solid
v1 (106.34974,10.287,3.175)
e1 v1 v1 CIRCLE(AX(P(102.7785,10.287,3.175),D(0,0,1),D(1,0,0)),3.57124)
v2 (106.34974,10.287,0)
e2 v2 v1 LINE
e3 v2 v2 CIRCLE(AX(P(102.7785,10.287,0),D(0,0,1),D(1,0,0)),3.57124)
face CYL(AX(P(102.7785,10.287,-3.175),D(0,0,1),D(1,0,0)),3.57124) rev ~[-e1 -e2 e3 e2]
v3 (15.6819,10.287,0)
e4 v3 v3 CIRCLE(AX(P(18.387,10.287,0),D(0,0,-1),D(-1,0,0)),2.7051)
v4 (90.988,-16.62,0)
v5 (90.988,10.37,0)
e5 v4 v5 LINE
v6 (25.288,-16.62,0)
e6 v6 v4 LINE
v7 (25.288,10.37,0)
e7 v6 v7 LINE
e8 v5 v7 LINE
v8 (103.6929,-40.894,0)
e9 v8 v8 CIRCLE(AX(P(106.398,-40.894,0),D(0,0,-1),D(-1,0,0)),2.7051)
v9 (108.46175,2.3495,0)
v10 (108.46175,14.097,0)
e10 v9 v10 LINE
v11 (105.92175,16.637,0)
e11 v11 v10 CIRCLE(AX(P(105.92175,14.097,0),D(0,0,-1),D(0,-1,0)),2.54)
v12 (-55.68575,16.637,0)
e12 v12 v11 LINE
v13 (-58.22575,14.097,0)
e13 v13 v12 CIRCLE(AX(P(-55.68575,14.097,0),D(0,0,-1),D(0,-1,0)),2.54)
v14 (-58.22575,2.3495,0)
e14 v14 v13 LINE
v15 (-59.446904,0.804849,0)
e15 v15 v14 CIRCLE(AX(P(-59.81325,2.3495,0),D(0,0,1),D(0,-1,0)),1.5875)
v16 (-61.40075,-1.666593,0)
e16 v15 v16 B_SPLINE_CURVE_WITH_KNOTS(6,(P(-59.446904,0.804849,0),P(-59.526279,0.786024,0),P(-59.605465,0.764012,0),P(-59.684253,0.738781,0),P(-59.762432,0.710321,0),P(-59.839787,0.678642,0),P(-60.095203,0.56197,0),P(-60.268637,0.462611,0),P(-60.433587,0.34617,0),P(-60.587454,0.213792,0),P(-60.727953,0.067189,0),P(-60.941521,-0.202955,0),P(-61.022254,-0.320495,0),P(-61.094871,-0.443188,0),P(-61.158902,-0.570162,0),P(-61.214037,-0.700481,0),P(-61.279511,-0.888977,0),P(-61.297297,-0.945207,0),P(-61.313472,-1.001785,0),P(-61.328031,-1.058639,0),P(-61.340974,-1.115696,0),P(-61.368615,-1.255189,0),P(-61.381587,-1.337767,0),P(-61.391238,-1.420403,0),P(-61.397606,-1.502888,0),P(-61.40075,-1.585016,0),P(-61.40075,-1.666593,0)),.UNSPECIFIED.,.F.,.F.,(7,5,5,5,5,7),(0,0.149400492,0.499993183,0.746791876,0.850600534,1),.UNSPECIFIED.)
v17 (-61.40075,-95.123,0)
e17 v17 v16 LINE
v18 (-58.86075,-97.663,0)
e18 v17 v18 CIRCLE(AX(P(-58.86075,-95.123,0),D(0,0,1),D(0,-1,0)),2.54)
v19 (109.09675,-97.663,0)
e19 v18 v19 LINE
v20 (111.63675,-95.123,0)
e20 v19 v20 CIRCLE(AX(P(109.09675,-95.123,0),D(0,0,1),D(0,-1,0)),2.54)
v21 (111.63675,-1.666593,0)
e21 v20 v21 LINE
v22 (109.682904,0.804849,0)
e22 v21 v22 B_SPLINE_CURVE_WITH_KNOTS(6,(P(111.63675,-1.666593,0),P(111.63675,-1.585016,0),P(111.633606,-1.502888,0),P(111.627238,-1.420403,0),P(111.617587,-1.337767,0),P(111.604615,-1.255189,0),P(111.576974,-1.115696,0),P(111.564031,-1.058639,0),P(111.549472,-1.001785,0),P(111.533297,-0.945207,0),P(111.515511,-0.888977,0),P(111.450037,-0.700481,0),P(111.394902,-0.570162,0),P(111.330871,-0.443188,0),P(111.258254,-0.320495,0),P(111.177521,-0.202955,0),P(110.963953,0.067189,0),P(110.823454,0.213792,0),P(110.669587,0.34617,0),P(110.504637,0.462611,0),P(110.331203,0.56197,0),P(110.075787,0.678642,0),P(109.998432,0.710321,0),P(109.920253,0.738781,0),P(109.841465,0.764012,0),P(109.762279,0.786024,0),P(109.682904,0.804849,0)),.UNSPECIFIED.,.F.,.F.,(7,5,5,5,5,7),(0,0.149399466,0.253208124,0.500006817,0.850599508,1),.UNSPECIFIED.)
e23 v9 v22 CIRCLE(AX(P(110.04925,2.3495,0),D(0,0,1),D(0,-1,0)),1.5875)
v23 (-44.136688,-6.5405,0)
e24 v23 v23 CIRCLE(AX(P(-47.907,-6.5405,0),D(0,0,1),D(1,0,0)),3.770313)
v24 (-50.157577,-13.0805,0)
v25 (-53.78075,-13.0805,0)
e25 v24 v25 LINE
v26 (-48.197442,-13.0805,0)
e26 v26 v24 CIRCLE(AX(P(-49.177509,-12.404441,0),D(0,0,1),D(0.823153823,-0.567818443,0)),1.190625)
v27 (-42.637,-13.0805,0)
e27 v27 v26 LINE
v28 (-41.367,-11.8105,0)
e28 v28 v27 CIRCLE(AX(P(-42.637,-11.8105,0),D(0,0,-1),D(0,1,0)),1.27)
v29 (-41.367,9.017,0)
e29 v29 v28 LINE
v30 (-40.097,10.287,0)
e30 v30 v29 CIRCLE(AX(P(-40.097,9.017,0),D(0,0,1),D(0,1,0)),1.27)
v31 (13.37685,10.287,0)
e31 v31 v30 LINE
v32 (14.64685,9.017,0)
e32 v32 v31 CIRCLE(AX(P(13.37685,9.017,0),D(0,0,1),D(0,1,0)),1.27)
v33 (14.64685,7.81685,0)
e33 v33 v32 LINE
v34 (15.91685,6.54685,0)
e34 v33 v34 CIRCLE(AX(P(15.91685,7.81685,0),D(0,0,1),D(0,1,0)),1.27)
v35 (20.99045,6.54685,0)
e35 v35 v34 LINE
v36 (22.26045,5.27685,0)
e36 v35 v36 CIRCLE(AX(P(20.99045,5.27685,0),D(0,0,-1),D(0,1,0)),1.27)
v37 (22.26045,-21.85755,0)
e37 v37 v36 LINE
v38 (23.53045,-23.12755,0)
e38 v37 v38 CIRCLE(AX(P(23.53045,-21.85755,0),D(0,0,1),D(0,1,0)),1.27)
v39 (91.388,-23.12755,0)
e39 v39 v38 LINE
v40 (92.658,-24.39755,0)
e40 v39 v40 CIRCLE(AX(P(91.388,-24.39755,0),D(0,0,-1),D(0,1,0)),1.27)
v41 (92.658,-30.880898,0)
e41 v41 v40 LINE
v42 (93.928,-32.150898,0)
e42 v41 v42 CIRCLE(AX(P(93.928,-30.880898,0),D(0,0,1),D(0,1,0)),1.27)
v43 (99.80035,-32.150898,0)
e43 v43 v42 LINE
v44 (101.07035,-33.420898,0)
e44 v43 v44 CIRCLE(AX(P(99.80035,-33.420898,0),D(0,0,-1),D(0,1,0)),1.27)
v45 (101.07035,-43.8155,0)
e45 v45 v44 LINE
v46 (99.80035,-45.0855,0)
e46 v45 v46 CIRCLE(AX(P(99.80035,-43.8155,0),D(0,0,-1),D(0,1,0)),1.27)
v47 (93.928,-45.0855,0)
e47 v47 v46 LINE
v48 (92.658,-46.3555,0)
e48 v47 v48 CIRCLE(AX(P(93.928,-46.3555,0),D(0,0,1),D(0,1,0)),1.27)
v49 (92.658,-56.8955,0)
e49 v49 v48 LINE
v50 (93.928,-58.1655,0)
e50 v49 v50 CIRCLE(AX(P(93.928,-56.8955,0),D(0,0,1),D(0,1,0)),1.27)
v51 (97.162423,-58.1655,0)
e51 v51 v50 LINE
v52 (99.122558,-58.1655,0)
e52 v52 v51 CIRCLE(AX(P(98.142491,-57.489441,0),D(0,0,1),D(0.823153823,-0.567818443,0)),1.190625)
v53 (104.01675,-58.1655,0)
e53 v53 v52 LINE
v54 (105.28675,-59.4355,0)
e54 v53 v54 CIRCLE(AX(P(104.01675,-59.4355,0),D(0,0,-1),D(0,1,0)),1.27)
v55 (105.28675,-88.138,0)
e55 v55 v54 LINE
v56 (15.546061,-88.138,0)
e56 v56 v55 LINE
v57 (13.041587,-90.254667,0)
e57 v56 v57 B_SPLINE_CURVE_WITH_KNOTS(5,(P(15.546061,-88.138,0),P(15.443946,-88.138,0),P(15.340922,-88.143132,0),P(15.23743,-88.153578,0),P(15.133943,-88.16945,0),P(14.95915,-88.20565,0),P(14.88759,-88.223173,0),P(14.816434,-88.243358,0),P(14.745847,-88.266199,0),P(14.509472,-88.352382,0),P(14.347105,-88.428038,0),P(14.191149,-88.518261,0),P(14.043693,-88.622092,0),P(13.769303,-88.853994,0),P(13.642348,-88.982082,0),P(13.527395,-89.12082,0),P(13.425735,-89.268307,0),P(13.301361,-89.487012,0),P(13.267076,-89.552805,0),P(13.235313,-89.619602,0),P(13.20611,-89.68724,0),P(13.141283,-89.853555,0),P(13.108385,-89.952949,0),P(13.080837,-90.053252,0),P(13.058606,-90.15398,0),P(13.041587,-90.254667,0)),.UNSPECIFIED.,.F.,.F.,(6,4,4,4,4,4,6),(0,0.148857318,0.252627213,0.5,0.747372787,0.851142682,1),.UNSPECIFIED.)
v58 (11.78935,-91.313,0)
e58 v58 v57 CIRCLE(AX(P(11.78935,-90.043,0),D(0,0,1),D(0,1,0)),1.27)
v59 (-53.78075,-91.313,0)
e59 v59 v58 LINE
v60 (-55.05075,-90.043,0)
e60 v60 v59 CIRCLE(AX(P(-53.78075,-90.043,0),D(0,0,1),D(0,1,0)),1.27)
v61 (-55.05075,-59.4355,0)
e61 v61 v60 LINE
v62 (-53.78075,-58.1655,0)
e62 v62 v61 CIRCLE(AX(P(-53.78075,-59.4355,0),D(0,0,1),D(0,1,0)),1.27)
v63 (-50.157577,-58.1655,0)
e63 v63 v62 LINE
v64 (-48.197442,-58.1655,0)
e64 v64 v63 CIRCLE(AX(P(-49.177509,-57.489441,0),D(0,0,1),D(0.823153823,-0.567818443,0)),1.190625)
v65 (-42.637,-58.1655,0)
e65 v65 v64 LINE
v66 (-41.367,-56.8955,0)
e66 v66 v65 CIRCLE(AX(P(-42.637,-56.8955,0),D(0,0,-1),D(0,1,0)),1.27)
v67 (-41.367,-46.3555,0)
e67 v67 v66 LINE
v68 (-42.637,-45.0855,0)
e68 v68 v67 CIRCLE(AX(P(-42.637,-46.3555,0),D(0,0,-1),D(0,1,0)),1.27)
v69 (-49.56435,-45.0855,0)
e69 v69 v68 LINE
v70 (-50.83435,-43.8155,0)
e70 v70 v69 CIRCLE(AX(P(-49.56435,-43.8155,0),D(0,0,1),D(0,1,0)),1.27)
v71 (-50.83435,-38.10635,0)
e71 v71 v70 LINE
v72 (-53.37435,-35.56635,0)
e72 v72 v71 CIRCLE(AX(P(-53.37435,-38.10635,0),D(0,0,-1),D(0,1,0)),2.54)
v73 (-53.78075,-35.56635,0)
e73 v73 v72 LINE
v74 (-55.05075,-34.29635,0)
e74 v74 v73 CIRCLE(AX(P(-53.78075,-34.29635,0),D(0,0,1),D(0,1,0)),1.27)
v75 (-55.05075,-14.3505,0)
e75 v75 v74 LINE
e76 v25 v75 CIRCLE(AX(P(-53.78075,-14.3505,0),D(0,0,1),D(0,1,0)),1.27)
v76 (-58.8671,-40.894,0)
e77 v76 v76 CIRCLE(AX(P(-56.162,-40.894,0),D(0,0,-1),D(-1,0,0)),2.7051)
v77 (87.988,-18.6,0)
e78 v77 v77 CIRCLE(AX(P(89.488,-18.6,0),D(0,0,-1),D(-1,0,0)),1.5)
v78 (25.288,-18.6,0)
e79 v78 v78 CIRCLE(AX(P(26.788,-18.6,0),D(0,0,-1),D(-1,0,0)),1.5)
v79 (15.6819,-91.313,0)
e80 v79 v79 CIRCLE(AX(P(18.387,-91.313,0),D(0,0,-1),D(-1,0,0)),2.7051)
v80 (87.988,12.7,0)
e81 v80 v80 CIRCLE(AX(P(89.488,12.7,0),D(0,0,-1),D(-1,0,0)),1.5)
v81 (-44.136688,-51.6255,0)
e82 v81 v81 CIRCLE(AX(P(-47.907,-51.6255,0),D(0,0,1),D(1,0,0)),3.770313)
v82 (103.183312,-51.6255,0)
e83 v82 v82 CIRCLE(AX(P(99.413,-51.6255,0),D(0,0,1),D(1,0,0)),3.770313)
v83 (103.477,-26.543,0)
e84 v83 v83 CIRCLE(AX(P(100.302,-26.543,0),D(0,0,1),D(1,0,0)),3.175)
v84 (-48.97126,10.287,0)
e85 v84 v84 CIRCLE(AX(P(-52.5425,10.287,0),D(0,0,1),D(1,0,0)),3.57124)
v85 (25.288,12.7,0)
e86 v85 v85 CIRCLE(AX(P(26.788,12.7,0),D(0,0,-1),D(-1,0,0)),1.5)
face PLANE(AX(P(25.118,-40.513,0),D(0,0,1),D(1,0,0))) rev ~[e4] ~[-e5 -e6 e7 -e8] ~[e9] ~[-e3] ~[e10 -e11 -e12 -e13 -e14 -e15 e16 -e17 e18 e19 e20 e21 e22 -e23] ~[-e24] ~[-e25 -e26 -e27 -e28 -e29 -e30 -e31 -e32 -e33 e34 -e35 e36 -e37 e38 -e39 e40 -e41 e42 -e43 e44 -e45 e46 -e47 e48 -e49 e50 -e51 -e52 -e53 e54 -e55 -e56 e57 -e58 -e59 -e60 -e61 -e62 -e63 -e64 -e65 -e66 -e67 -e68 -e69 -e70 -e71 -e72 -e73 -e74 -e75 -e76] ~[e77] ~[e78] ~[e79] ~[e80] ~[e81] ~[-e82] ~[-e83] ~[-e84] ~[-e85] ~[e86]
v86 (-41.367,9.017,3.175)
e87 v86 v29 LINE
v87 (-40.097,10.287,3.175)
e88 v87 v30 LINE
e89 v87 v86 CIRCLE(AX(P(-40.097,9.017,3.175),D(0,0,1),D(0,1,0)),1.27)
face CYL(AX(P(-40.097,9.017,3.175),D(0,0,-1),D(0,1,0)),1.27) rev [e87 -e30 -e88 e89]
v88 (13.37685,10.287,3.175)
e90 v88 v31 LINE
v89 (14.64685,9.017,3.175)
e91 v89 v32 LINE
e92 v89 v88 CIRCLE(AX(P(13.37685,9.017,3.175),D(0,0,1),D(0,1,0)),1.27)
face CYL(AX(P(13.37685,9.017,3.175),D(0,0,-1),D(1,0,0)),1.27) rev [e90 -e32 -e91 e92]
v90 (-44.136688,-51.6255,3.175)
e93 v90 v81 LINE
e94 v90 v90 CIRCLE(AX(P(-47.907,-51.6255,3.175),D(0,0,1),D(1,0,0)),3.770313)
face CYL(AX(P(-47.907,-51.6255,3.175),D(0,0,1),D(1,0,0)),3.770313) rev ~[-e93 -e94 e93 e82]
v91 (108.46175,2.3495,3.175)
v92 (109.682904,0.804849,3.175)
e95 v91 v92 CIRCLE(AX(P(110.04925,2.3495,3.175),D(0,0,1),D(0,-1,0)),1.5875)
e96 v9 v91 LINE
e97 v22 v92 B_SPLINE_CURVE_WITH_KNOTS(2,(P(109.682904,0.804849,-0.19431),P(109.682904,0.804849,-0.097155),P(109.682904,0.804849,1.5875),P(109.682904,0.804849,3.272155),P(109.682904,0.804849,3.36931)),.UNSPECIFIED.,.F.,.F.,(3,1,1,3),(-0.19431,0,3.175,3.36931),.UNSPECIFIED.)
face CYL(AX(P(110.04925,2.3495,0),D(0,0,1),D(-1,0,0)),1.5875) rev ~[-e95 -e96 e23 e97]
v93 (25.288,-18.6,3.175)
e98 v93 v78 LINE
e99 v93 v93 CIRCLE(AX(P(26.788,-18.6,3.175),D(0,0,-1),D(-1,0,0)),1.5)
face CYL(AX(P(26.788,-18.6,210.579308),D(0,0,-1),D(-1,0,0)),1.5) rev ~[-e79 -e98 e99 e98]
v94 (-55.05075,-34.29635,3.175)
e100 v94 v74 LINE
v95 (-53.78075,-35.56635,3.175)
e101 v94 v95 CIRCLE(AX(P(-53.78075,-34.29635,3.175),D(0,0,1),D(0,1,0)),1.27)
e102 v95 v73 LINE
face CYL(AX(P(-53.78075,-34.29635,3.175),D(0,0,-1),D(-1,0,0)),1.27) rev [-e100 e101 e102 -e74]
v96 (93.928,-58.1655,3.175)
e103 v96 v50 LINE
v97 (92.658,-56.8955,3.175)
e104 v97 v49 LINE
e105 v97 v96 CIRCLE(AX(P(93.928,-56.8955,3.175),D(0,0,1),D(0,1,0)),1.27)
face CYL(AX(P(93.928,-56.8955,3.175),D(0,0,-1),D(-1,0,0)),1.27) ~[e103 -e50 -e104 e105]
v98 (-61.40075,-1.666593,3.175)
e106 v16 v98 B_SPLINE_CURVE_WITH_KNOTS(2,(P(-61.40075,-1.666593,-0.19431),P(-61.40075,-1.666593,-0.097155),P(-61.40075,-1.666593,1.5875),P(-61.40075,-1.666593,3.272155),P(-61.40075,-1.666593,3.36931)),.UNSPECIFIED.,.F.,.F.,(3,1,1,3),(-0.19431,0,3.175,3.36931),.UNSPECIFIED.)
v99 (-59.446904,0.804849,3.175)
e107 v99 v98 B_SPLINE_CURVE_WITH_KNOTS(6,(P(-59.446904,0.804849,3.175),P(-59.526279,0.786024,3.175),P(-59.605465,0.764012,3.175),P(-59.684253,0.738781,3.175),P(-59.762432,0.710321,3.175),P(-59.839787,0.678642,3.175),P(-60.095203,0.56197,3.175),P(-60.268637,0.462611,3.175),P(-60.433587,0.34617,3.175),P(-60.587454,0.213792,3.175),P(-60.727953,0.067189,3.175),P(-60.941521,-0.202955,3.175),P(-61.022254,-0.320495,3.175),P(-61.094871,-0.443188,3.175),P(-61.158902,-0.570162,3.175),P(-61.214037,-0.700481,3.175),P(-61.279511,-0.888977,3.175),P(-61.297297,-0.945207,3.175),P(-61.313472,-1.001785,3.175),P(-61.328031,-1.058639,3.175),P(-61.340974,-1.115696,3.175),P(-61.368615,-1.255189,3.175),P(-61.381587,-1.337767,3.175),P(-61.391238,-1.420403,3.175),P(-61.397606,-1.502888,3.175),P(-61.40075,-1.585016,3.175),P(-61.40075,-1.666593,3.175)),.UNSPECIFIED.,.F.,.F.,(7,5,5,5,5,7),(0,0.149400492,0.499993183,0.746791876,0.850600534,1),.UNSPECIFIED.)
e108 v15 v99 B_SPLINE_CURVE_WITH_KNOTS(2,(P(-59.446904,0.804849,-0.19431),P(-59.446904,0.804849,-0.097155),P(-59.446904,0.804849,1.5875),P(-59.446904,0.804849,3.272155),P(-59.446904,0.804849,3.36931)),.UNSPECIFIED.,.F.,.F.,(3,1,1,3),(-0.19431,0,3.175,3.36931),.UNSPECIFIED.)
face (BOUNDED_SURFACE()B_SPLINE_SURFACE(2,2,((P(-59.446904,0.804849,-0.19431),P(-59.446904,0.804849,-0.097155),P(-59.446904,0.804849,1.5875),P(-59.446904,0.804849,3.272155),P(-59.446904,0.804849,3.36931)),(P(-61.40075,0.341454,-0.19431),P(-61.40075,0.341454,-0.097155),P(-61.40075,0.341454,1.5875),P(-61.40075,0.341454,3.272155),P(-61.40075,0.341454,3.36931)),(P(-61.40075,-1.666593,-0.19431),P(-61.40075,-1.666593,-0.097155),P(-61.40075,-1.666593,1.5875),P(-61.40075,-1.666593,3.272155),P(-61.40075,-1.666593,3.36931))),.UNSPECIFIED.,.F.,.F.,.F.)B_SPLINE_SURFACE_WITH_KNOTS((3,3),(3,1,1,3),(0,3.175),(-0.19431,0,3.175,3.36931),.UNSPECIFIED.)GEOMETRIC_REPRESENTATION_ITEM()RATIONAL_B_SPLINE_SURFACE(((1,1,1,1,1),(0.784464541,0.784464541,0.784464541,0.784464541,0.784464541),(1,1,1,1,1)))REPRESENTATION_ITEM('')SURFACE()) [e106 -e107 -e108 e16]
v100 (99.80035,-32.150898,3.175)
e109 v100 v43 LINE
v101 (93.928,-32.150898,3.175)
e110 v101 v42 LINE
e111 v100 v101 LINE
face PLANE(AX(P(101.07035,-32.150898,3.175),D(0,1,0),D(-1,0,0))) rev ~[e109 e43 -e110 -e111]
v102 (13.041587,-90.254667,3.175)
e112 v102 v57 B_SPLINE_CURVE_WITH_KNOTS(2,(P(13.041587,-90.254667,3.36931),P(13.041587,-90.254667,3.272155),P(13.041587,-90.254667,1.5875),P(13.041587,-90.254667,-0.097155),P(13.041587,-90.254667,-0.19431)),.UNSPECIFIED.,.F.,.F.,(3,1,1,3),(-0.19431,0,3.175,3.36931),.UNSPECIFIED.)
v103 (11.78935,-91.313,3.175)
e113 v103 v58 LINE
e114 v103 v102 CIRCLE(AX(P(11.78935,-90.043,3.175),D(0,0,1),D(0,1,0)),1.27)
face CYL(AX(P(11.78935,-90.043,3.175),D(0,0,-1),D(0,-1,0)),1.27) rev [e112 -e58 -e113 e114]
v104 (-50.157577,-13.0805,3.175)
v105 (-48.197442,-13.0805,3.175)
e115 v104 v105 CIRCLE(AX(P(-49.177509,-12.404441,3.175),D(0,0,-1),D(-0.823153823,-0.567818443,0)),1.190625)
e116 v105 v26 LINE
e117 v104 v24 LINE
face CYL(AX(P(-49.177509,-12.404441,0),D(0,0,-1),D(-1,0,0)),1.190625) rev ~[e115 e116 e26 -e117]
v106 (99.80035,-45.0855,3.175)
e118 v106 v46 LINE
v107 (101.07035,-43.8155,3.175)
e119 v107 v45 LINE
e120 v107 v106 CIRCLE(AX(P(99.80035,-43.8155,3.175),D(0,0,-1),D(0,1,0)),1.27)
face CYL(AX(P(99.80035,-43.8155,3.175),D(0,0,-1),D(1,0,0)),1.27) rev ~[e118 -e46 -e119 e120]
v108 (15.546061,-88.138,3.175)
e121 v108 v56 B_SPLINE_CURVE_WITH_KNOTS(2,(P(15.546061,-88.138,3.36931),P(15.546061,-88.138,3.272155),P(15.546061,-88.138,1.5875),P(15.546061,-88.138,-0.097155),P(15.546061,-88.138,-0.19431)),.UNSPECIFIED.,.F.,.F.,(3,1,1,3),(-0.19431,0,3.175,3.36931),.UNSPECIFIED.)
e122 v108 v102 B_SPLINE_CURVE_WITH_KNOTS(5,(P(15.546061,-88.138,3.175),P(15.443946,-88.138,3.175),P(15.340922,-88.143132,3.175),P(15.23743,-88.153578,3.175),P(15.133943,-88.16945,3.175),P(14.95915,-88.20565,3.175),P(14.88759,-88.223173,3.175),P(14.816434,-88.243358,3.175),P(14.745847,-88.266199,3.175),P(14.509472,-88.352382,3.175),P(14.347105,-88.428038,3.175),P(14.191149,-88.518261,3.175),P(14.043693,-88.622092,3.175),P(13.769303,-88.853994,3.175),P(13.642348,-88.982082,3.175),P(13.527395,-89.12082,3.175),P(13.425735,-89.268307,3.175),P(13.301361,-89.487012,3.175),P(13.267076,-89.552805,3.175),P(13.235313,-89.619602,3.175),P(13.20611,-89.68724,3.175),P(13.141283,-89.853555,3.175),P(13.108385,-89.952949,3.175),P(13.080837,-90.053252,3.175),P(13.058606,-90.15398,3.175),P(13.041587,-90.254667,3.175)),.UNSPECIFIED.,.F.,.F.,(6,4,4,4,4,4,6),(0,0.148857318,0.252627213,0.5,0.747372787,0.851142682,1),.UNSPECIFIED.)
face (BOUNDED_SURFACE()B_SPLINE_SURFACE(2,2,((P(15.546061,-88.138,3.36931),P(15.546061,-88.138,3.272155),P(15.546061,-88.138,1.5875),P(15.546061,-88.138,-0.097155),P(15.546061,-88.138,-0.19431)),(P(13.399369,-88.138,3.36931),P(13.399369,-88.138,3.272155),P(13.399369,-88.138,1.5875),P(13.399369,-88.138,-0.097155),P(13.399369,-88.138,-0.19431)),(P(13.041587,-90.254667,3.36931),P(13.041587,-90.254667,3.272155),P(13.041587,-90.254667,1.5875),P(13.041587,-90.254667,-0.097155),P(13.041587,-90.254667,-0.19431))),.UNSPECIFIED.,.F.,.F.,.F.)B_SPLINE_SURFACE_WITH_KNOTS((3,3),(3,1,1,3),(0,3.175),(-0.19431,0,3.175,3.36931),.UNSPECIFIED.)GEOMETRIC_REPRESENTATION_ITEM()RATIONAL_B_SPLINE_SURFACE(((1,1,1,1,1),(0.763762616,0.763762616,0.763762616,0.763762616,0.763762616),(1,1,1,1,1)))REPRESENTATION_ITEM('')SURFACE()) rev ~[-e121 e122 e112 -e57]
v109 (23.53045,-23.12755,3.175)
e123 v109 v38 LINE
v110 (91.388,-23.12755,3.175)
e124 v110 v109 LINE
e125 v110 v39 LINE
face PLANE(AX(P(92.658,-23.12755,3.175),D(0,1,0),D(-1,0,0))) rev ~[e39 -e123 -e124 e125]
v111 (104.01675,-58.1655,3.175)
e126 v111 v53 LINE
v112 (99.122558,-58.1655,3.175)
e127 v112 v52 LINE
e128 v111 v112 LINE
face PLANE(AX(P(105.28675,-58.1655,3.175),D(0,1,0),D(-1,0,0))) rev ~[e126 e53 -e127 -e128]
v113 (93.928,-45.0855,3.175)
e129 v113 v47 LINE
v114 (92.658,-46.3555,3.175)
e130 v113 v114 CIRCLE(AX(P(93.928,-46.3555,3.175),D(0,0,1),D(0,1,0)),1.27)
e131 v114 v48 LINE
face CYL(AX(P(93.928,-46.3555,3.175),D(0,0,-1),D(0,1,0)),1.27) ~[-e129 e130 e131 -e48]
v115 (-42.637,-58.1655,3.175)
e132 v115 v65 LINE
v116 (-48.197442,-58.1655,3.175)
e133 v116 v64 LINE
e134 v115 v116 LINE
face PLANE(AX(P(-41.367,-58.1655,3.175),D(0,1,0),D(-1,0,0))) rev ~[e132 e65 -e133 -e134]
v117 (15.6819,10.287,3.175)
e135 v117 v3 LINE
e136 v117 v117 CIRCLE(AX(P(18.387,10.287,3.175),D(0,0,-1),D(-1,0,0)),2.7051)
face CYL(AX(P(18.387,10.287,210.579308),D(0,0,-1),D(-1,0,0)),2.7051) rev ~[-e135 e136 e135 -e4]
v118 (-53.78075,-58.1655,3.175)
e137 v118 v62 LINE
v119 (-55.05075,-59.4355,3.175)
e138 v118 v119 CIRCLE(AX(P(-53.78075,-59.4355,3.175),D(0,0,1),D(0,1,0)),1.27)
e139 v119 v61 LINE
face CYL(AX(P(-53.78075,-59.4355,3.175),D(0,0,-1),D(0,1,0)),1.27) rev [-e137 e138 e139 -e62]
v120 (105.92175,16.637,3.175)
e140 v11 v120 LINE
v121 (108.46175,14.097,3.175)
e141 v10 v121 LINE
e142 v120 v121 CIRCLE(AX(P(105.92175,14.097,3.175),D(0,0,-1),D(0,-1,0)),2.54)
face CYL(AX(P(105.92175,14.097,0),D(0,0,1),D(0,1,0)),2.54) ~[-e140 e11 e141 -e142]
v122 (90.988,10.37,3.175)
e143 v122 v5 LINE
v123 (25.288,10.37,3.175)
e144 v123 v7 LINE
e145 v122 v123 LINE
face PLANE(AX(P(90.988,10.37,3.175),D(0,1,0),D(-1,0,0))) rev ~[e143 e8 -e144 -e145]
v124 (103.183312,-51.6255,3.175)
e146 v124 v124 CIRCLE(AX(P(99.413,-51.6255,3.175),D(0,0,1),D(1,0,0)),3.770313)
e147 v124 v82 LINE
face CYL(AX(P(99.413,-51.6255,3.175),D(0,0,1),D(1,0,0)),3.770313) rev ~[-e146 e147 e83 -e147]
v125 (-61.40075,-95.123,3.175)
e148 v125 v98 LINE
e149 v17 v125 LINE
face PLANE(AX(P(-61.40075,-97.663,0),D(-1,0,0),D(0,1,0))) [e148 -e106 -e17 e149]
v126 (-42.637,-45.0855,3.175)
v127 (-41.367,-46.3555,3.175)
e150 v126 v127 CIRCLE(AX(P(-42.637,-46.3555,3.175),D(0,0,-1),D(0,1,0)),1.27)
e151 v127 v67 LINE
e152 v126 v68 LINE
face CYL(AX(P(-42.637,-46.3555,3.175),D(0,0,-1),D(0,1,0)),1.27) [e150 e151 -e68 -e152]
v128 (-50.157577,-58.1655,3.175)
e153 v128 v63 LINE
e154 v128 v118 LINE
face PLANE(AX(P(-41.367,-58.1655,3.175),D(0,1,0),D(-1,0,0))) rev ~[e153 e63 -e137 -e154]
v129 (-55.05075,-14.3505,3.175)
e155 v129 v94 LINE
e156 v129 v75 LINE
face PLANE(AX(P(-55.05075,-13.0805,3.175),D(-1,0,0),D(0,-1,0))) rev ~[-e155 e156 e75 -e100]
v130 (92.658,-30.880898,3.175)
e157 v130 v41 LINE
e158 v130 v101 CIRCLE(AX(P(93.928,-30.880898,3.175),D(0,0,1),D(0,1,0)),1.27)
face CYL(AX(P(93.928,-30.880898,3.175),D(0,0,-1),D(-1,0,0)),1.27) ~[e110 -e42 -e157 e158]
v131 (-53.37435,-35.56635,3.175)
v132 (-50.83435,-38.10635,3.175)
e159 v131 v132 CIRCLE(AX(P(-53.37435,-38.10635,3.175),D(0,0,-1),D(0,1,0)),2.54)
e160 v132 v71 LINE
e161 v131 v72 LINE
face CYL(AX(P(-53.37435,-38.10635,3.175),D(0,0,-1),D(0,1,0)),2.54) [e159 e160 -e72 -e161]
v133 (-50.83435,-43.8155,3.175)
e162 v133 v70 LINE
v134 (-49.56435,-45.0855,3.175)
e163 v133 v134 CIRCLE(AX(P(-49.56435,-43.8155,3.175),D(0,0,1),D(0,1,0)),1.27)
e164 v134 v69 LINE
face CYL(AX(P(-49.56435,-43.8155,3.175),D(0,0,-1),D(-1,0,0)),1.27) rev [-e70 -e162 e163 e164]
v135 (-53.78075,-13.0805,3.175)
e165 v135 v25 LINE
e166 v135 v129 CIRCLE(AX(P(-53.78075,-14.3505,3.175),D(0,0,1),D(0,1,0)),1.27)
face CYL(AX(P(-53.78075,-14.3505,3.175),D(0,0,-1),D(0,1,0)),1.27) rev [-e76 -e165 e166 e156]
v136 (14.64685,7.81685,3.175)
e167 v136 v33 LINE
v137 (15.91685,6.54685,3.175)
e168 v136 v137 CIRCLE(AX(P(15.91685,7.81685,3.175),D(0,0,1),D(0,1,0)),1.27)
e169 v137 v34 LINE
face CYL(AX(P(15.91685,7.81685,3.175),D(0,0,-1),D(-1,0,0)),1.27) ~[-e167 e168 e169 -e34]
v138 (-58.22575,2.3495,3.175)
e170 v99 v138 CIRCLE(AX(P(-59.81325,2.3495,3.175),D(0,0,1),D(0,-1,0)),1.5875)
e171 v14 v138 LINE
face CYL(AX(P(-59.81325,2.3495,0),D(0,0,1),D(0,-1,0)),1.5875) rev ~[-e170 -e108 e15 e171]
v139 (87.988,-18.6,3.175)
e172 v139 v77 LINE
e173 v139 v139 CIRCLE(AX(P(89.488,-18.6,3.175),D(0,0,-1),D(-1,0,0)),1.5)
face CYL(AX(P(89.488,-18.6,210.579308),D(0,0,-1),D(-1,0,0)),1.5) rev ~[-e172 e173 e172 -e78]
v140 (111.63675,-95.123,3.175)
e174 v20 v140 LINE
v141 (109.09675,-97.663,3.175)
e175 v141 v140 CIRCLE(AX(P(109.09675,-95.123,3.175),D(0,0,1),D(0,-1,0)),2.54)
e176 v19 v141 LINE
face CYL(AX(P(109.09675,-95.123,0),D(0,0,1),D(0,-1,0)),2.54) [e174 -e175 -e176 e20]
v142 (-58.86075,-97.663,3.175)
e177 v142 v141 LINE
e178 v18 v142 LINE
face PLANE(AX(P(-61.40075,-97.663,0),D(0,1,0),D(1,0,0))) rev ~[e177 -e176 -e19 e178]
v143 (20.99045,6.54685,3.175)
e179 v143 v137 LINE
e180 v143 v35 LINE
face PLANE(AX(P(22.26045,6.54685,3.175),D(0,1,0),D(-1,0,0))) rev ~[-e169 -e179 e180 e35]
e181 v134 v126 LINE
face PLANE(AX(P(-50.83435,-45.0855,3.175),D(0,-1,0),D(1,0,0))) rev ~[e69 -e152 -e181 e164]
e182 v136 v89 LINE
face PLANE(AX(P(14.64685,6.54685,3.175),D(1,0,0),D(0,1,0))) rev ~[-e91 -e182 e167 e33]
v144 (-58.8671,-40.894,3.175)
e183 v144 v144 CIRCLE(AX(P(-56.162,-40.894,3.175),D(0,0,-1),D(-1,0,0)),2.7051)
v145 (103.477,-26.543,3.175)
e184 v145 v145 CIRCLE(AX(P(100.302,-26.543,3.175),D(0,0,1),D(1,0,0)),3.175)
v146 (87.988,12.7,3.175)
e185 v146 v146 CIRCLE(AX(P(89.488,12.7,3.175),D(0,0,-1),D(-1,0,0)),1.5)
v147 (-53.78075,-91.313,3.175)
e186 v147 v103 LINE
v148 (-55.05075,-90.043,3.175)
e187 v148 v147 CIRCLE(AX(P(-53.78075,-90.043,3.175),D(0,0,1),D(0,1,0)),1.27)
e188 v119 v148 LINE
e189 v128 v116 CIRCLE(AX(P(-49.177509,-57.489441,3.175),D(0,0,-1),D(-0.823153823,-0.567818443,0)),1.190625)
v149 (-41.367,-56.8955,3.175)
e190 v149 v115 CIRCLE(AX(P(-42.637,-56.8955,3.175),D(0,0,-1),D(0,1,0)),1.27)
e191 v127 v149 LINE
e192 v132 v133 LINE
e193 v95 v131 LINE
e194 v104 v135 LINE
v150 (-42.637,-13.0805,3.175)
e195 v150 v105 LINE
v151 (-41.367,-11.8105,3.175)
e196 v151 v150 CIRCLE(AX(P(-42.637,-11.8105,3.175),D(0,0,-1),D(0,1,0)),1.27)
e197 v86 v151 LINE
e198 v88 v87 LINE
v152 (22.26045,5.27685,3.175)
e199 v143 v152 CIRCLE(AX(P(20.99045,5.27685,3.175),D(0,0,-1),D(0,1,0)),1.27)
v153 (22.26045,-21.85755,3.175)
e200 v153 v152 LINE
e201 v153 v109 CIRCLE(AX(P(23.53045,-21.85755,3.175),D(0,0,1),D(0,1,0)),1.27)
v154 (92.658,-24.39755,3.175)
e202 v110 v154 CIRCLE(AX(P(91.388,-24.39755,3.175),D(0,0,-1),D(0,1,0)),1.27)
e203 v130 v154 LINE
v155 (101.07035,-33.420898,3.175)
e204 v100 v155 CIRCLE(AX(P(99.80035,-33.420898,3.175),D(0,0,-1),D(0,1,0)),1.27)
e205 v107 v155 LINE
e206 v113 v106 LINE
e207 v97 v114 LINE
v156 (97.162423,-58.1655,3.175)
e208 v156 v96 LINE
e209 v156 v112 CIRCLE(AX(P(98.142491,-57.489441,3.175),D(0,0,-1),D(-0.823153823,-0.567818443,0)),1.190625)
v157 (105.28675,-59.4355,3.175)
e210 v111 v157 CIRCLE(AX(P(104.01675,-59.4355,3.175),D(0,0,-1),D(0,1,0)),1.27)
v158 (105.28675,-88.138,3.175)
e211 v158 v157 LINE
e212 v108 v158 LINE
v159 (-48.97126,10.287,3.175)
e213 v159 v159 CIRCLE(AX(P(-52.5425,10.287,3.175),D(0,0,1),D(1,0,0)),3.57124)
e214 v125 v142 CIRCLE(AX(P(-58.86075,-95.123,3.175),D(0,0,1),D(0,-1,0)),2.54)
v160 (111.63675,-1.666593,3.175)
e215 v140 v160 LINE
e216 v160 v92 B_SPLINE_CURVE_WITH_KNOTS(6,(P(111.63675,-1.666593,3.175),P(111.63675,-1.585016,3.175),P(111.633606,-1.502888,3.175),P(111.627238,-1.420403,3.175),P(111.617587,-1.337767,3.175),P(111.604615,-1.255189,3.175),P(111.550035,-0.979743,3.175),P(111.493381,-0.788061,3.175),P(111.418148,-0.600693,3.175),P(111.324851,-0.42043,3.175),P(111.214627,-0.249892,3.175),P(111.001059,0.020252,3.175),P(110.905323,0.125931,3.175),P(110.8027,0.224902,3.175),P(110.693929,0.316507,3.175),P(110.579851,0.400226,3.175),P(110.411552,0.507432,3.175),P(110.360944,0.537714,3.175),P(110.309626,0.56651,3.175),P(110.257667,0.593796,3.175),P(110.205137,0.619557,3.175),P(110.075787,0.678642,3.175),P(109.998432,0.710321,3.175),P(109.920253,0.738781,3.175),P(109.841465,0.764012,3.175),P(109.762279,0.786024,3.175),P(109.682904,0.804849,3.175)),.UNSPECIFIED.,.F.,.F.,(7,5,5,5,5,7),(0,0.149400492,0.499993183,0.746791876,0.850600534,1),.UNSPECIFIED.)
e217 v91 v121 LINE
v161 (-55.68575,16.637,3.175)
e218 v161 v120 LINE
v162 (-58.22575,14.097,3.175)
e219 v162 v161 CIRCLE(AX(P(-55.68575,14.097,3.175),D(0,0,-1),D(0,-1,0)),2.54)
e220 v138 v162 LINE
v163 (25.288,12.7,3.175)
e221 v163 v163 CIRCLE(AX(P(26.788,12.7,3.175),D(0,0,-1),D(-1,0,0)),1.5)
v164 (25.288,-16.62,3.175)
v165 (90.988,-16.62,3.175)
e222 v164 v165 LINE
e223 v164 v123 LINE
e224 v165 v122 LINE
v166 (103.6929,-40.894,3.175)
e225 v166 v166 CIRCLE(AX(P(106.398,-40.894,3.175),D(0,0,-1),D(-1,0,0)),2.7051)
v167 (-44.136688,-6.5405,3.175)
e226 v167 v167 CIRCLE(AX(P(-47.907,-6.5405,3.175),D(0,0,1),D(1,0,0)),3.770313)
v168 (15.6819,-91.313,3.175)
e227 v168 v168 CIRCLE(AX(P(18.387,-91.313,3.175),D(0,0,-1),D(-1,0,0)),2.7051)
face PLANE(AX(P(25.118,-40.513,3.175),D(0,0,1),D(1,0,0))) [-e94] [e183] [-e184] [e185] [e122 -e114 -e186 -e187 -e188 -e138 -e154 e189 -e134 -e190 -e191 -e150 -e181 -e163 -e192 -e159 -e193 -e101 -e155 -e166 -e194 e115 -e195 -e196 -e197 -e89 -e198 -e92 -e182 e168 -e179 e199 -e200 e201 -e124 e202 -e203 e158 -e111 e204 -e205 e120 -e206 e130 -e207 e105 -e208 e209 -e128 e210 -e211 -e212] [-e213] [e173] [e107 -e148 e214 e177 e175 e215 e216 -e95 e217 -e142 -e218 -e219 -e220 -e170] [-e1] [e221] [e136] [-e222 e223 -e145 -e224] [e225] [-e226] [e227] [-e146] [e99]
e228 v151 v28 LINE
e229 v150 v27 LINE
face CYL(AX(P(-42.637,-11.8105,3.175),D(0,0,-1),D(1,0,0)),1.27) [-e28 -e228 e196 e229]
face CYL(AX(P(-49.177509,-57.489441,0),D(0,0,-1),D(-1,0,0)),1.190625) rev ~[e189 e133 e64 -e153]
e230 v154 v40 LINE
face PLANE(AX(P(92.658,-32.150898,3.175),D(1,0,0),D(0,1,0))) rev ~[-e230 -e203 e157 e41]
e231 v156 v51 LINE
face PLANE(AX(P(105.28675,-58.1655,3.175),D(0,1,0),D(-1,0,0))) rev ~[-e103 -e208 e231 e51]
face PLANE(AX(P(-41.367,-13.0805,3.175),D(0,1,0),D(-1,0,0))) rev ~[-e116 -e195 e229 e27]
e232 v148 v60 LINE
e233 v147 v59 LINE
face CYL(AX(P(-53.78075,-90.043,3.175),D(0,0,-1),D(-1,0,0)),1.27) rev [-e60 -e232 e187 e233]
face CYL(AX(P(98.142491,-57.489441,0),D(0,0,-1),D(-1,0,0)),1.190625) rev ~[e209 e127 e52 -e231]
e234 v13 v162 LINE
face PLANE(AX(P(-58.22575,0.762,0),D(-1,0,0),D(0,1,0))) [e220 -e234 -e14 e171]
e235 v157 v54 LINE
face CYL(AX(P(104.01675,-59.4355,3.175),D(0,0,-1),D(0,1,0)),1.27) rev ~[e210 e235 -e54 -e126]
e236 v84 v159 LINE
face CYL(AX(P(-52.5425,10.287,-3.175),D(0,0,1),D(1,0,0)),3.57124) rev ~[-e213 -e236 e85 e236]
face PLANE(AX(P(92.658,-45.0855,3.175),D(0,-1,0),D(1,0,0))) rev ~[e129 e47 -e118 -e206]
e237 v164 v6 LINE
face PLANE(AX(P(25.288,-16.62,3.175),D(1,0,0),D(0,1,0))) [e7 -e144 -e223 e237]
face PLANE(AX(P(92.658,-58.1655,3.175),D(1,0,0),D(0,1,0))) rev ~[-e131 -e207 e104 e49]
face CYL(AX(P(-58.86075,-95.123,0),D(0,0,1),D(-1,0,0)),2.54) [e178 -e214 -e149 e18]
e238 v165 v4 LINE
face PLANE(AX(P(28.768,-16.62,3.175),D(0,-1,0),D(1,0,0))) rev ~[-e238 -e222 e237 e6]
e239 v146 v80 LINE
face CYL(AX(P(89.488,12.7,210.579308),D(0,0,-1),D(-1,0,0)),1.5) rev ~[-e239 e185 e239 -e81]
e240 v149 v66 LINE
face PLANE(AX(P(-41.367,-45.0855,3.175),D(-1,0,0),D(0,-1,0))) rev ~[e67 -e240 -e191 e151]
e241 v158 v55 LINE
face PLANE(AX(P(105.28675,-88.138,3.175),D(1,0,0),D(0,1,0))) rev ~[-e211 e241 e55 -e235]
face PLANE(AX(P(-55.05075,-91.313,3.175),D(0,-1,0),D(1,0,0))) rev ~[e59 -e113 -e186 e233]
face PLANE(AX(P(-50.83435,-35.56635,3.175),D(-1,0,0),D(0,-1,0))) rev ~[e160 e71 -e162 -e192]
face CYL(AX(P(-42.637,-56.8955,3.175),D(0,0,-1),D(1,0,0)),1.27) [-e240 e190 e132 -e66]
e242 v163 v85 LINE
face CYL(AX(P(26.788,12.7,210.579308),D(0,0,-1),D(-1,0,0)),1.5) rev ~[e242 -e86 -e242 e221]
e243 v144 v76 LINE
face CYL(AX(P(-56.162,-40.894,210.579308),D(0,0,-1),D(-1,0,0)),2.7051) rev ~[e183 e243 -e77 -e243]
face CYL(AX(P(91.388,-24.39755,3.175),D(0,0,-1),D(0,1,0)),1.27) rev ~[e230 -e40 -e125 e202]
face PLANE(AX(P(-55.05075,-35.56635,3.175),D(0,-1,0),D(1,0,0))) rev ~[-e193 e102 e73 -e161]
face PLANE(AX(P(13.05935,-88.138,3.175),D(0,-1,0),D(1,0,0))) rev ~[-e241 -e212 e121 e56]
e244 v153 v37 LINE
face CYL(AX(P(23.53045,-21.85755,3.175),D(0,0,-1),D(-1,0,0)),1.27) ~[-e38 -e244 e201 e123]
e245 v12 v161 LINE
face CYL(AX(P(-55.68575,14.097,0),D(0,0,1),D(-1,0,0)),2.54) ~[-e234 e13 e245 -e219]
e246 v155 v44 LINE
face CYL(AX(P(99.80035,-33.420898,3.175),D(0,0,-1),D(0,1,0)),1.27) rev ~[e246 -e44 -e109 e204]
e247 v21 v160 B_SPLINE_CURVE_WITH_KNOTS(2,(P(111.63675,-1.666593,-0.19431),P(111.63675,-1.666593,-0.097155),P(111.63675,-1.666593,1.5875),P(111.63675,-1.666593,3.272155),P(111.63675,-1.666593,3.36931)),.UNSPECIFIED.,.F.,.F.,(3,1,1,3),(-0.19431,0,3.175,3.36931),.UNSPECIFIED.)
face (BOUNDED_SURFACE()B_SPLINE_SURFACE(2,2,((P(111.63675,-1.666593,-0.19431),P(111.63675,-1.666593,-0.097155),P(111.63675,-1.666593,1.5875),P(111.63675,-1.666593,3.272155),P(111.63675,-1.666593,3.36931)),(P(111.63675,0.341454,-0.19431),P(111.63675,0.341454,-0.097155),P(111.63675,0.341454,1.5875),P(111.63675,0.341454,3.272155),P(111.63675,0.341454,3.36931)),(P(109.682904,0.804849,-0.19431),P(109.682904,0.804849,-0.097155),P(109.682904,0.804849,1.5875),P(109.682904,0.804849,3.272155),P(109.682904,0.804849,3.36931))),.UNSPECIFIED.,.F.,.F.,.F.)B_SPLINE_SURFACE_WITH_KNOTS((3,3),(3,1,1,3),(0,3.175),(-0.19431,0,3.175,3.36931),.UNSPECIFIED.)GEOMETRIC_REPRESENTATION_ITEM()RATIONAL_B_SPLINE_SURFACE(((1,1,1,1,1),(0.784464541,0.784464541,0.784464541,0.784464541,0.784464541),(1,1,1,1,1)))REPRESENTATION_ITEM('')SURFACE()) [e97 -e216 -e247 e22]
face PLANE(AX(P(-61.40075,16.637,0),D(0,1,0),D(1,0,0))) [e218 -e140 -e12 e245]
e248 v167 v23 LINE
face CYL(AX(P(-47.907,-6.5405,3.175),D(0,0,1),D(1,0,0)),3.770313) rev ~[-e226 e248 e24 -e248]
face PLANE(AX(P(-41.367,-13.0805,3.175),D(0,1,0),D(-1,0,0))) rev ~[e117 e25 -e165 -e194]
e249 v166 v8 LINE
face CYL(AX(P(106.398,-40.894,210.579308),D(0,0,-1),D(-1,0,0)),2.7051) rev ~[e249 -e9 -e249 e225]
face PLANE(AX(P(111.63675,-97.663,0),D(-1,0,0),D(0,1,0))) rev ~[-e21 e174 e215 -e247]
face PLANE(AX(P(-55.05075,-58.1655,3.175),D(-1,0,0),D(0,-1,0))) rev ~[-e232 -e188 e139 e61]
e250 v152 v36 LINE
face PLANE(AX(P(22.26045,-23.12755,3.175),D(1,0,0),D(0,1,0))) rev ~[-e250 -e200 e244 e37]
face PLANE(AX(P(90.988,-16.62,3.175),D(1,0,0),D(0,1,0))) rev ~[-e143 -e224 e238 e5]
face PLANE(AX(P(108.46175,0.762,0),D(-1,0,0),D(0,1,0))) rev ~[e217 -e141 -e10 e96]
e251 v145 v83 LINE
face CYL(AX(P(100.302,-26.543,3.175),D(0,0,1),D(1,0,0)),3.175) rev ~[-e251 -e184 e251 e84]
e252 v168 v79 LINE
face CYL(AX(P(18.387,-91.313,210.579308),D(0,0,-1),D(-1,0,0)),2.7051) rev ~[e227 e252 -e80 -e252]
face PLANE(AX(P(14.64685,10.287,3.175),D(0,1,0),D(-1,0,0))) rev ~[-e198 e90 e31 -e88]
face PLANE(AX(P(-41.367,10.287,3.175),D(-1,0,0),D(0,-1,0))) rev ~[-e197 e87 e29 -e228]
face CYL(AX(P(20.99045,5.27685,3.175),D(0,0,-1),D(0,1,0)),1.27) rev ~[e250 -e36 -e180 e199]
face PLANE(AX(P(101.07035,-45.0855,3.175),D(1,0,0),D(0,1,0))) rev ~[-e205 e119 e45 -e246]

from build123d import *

# Parameters (mm, degrees)
SKETCH1_W                   = 173.0375
SKETCH1_H                   = 114.3
BOSS_EXTRUDE1_DEPTH         = 3.175
SKETCH3_R                   = 3.175
SKETCH3_R_2                 = 3.7703125
CUT_EXTRUDE1_DEPTH          = 4.175
F_6_CLEARANCE_HOLE1_D       = 4.3053
F_2_CLEARANCE_HOLE1_D       = 2.7051
SKETCH8_W                   = 58.74
SKETCH8_H                   = 26.99
CUT_EXTRUDE2_DEPTH          = 4.175
F_3_0_213_DIAMETER_HOLE1_D  = 5.4102
F_3_0_3_DIAMETER_HOLE1_D    = 3
FILLET1_R                   = 1.27
FILLET2_R                   = 2.54
F_1_4_CLEARANCE_HOLE1_D     = 7.14248
F_1_4_CLEARANCE_HOLE1_DEPTH = 3.175
CUT_EXTRUDE3_REACH          = 5.175
SKETCH14_W                  = 3.175
SKETCH14_H                  = 15.875
FILLET3_R                   = 1.5875
FILLET4_R                   = 2.54
CUT_EXTRUDE4_START          = -3.175
SKETCH15_W                  = 65.7
SKETCH15_H                  = 26.99
CUT_EXTRUDE4_DEPTH          = 3.175
CUT_EXTRUDE5_REACH          = 5.175
SKETCH16_R                  = 1.190625


with BuildPart() as part:
    # Sketch1 → Boss-Extrude1 (new body)
    with BuildSketch(Plane.XY):
        with Locations((25.118, -40.513)):
            Rectangle(SKETCH1_W, SKETCH1_H)
    extrude(amount=BOSS_EXTRUDE1_DEPTH)

    # Sketch3 → Cut-Extrude1 (cut, through all)
    with BuildSketch(Plane.XY.offset(3.175)):
        with Locations((100.302, -26.543)):
            Circle(SKETCH3_R)
        with Locations((99.413, -51.6255)):
            Circle(SKETCH3_R_2)
        with Locations((-47.907, -51.6255)):
            Circle(SKETCH3_R_2)
        with Locations((-47.907, -6.5405)):
            Circle(SKETCH3_R_2)
    extrude(amount=-CUT_EXTRUDE1_DEPTH, mode=Mode.SUBTRACT)

    # #6 Clearance Hole1 (through all)
    with Locations(Plane.XY.offset(3.175)):
        with Locations((18.387, 10.287), (-56.162, -40.894), (106.398, -40.894), (18.387, -91.313)):
            Hole(F_6_CLEARANCE_HOLE1_D / 2)

    # #2 Clearance Hole1 (through all)
    with Locations(Plane.XY.offset(3.175)):
        with Locations((26.788, 12.7), (89.488, 12.7), (89.488, -18.6), (26.788, -18.6)):
            Hole(F_2_CLEARANCE_HOLE1_D / 2)

    # Sketch8 → Cut-Extrude2 (cut, through all)
    with BuildSketch(Plane.XY.offset(3.175)):
        with Locations((58.138, -3.125)):
            Rectangle(SKETCH8_W, SKETCH8_H)
        Polygon((14.64685, 6.54685), (14.64685, 10.287), (-41.367, 10.287), (-41.367, -13.0805), (-55.05075, -13.0805), (-55.05075, -35.56635), (-50.83435, -35.56635), (-50.83435, -45.0855), (-41.367, -45.0855), (-41.367, -58.1655), (-55.05075, -58.1655), (-55.05075, -91.313), (13.05935, -91.313), (13.05935, -88.138), (105.28675, -88.138), (105.28675, -58.1655), (92.658, -58.1655), (92.658, -45.0855), (101.07035, -45.0855), (101.07035, -32.150898303), (92.658, -32.150898303), (92.658, -23.12755), (22.26045, -23.12755), (22.26045, 6.54685), align=None)
    extrude(amount=-CUT_EXTRUDE2_DEPTH, mode=Mode.SUBTRACT)

    # #3 (0.213) Diameter Hole1 (through all)
    with Locations(Plane(origin=(18.387, 10.287, 3.175), x_dir=(1, 0, 0), z_dir=(0, 0, 1))):
        with Locations((0, 0), (-74.549, -51.181), (0, -101.6), (88.011, -51.181)):
            Hole(F_3_0_213_DIAMETER_HOLE1_D / 2)

    # Ø3.0 (3) Diameter Hole1 (through all)
    with Locations(Plane.XY.offset(3.175)):
        with Locations((26.788, 12.7), (89.488, 12.7), (89.488, -18.6), (26.788, -18.6)):
            Hole(F_3_0_3_DIAMETER_HOLE1_D / 2)

    # Fillet1
    fillet1_edges = [part.edges().sort_by_distance(p)[0] for p in [
        (14.64685, 10.287, 1.5875),
        (14.64685, 6.54685, 1.5875),
        (22.26045, 6.54685, 1.5875),
        (22.26045, -23.12755, 1.5875),
        (92.658, -23.12755, 1.5875),
        (92.658, -32.150898303, 1.5875),
        (101.07035, -32.150898303, 1.5875),
        (101.07035, -45.0855, 1.5875),
        (92.658, -45.0855, 1.5875),
        (92.658, -58.1655, 1.5875),
        (105.28675, -58.1655, 1.5875),
        (13.05935, -91.313, 1.5875),
        (-55.05075, -91.313, 1.5875),
        (-55.05075, -58.1655, 1.5875),
        (-41.367, -58.1655, 1.5875),
        (-41.367, -45.0855, 1.5875),
        (-50.83435, -45.0855, 1.5875),
        (-55.05075, -35.56635, 1.5875),
        (-55.05075, -13.0805, 1.5875),
        (-41.367, -13.0805, 1.5875),
        (-41.367, 10.287, 1.5875),
    ]]
    fillet(fillet1_edges, radius=FILLET1_R)

    # Fillet2
    fillet2_edges = [part.edges().sort_by_distance(p)[0] for p in [
        (13.05935, -88.138, 1.5875),
        (-50.83435, -35.56635, 1.5875),
        (111.63675, 16.637, 1.5875),
        (111.63675, -97.663, 1.5875),
        (-61.40075, -97.663, 1.5875),
        (-61.40075, 16.637, 1.5875),
    ]]
    fillet(fillet2_edges, radius=FILLET2_R)

    # 1/4 Clearance Hole1
    with Locations(Plane(origin=(0, 0, 0), x_dir=(-1, 0, 0), z_dir=(0, 0, -1))):
        with Locations((-102.7785, 10.287), (52.5425, 10.287)):
            Hole(F_1_4_CLEARANCE_HOLE1_D / 2, depth=F_1_4_CLEARANCE_HOLE1_DEPTH)

    # Sketch14 → Cut-Extrude3 (cut, up to next)
    with BuildSketch(Plane(origin=(0, 0, 0), x_dir=(-1, 0, 0), z_dir=(0, 0, -1)), mode=Mode.PRIVATE) as cut_extrude3_sk1:
        with Locations((-110.04925, 8.6995)):
            Rectangle(SKETCH14_W, SKETCH14_H)
    cut_extrude3_tool1 = extrude(cut_extrude3_sk1.sketch, amount=-CUT_EXTRUDE3_REACH, mode=Mode.PRIVATE) & part.part
    add(cut_extrude3_tool1.solids().sort_by_distance((110.04925, 8.6995, 0))[0], mode=Mode.SUBTRACT)
    # Sketch14 → Cut-Extrude3 (cut, up to next)
    with BuildSketch(Plane(origin=(0, 0, 0), x_dir=(-1, 0, 0), z_dir=(0, 0, -1)), mode=Mode.PRIVATE) as cut_extrude3_sk2:
        with Locations((59.81325, 8.6995)):
            Rectangle(SKETCH14_W, SKETCH14_H)
    cut_extrude3_tool2 = extrude(cut_extrude3_sk2.sketch, amount=-CUT_EXTRUDE3_REACH, mode=Mode.PRIVATE) & part.part
    add(cut_extrude3_tool2.solids().sort_by_distance((-59.81325, 8.6995, 0))[0], mode=Mode.SUBTRACT)

    # Fillet3
    fillet3_edges = [part.edges().sort_by_distance(p)[0] for p in [
        (108.46175, 0.762, 1.5875),
        (-58.22575, 0.762, 1.5875),
    ]]
    fillet(fillet3_edges, radius=FILLET3_R)

    # Fillet4
    fillet4_edges = [part.edges().sort_by_distance(p)[0] for p in [
        (111.63675, 0.762, 1.5875),
        (108.46175, 16.637, 1.5875),
        (-58.22575, 16.637, 1.5875),
        (-61.40075, 0.762, 1.5875),
    ]]
    fillet(fillet4_edges, radius=FILLET4_R)

    # Sketch15 → Cut-Extrude4 (cut)
    with BuildSketch(Plane(origin=(0, 0, 0), x_dir=(-1, 0, 0), z_dir=(0, 0, -1)).offset(CUT_EXTRUDE4_START)):
        with Locations((-58.138, -3.125)):
            Rectangle(SKETCH15_W, SKETCH15_H)
    extrude(amount=CUT_EXTRUDE4_DEPTH, mode=Mode.SUBTRACT)

    # Sketch16 → Cut-Extrude5 (cut, up to next)
    with BuildSketch(Plane(origin=(0, 0, 0), x_dir=(-1, 0, 0), z_dir=(0, 0, -1)), mode=Mode.PRIVATE) as cut_extrude5_sk1:
        with Locations((-98.142490655, -57.489441166)):
            Circle(SKETCH16_R)
    cut_extrude5_tool1 = extrude(cut_extrude5_sk1.sketch, amount=-CUT_EXTRUDE5_REACH, mode=Mode.PRIVATE) & part.part
    add(cut_extrude5_tool1.solids().sort_by_distance((98.142491, -57.489441, 0))[0], mode=Mode.SUBTRACT)
    # Sketch16 → Cut-Extrude5 (cut, up to next)
    with BuildSketch(Plane(origin=(0, 0, 0), x_dir=(-1, 0, 0), z_dir=(0, 0, -1)), mode=Mode.PRIVATE) as cut_extrude5_sk2:
        with Locations((49.177509345, -57.489441166)):
            Circle(SKETCH16_R)
    cut_extrude5_tool2 = extrude(cut_extrude5_sk2.sketch, amount=-CUT_EXTRUDE5_REACH, mode=Mode.PRIVATE) & part.part
    add(cut_extrude5_tool2.solids().sort_by_distance((-49.177509, -57.489441, 0))[0], mode=Mode.SUBTRACT)
    # Sketch16 → Cut-Extrude5 (cut, up to next)
    with BuildSketch(Plane(origin=(0, 0, 0), x_dir=(-1, 0, 0), z_dir=(0, 0, -1)), mode=Mode.PRIVATE) as cut_extrude5_sk3:
        with Locations((49.177509345, -12.404441166)):
            Circle(SKETCH16_R)
    cut_extrude5_tool3 = extrude(cut_extrude5_sk3.sketch, amount=-CUT_EXTRUDE5_REACH, mode=Mode.PRIVATE) & part.part
    add(cut_extrude5_tool3.solids().sort_by_distance((-49.177509, -12.404441, 0))[0], mode=Mode.SUBTRACT)


solid = part.part
